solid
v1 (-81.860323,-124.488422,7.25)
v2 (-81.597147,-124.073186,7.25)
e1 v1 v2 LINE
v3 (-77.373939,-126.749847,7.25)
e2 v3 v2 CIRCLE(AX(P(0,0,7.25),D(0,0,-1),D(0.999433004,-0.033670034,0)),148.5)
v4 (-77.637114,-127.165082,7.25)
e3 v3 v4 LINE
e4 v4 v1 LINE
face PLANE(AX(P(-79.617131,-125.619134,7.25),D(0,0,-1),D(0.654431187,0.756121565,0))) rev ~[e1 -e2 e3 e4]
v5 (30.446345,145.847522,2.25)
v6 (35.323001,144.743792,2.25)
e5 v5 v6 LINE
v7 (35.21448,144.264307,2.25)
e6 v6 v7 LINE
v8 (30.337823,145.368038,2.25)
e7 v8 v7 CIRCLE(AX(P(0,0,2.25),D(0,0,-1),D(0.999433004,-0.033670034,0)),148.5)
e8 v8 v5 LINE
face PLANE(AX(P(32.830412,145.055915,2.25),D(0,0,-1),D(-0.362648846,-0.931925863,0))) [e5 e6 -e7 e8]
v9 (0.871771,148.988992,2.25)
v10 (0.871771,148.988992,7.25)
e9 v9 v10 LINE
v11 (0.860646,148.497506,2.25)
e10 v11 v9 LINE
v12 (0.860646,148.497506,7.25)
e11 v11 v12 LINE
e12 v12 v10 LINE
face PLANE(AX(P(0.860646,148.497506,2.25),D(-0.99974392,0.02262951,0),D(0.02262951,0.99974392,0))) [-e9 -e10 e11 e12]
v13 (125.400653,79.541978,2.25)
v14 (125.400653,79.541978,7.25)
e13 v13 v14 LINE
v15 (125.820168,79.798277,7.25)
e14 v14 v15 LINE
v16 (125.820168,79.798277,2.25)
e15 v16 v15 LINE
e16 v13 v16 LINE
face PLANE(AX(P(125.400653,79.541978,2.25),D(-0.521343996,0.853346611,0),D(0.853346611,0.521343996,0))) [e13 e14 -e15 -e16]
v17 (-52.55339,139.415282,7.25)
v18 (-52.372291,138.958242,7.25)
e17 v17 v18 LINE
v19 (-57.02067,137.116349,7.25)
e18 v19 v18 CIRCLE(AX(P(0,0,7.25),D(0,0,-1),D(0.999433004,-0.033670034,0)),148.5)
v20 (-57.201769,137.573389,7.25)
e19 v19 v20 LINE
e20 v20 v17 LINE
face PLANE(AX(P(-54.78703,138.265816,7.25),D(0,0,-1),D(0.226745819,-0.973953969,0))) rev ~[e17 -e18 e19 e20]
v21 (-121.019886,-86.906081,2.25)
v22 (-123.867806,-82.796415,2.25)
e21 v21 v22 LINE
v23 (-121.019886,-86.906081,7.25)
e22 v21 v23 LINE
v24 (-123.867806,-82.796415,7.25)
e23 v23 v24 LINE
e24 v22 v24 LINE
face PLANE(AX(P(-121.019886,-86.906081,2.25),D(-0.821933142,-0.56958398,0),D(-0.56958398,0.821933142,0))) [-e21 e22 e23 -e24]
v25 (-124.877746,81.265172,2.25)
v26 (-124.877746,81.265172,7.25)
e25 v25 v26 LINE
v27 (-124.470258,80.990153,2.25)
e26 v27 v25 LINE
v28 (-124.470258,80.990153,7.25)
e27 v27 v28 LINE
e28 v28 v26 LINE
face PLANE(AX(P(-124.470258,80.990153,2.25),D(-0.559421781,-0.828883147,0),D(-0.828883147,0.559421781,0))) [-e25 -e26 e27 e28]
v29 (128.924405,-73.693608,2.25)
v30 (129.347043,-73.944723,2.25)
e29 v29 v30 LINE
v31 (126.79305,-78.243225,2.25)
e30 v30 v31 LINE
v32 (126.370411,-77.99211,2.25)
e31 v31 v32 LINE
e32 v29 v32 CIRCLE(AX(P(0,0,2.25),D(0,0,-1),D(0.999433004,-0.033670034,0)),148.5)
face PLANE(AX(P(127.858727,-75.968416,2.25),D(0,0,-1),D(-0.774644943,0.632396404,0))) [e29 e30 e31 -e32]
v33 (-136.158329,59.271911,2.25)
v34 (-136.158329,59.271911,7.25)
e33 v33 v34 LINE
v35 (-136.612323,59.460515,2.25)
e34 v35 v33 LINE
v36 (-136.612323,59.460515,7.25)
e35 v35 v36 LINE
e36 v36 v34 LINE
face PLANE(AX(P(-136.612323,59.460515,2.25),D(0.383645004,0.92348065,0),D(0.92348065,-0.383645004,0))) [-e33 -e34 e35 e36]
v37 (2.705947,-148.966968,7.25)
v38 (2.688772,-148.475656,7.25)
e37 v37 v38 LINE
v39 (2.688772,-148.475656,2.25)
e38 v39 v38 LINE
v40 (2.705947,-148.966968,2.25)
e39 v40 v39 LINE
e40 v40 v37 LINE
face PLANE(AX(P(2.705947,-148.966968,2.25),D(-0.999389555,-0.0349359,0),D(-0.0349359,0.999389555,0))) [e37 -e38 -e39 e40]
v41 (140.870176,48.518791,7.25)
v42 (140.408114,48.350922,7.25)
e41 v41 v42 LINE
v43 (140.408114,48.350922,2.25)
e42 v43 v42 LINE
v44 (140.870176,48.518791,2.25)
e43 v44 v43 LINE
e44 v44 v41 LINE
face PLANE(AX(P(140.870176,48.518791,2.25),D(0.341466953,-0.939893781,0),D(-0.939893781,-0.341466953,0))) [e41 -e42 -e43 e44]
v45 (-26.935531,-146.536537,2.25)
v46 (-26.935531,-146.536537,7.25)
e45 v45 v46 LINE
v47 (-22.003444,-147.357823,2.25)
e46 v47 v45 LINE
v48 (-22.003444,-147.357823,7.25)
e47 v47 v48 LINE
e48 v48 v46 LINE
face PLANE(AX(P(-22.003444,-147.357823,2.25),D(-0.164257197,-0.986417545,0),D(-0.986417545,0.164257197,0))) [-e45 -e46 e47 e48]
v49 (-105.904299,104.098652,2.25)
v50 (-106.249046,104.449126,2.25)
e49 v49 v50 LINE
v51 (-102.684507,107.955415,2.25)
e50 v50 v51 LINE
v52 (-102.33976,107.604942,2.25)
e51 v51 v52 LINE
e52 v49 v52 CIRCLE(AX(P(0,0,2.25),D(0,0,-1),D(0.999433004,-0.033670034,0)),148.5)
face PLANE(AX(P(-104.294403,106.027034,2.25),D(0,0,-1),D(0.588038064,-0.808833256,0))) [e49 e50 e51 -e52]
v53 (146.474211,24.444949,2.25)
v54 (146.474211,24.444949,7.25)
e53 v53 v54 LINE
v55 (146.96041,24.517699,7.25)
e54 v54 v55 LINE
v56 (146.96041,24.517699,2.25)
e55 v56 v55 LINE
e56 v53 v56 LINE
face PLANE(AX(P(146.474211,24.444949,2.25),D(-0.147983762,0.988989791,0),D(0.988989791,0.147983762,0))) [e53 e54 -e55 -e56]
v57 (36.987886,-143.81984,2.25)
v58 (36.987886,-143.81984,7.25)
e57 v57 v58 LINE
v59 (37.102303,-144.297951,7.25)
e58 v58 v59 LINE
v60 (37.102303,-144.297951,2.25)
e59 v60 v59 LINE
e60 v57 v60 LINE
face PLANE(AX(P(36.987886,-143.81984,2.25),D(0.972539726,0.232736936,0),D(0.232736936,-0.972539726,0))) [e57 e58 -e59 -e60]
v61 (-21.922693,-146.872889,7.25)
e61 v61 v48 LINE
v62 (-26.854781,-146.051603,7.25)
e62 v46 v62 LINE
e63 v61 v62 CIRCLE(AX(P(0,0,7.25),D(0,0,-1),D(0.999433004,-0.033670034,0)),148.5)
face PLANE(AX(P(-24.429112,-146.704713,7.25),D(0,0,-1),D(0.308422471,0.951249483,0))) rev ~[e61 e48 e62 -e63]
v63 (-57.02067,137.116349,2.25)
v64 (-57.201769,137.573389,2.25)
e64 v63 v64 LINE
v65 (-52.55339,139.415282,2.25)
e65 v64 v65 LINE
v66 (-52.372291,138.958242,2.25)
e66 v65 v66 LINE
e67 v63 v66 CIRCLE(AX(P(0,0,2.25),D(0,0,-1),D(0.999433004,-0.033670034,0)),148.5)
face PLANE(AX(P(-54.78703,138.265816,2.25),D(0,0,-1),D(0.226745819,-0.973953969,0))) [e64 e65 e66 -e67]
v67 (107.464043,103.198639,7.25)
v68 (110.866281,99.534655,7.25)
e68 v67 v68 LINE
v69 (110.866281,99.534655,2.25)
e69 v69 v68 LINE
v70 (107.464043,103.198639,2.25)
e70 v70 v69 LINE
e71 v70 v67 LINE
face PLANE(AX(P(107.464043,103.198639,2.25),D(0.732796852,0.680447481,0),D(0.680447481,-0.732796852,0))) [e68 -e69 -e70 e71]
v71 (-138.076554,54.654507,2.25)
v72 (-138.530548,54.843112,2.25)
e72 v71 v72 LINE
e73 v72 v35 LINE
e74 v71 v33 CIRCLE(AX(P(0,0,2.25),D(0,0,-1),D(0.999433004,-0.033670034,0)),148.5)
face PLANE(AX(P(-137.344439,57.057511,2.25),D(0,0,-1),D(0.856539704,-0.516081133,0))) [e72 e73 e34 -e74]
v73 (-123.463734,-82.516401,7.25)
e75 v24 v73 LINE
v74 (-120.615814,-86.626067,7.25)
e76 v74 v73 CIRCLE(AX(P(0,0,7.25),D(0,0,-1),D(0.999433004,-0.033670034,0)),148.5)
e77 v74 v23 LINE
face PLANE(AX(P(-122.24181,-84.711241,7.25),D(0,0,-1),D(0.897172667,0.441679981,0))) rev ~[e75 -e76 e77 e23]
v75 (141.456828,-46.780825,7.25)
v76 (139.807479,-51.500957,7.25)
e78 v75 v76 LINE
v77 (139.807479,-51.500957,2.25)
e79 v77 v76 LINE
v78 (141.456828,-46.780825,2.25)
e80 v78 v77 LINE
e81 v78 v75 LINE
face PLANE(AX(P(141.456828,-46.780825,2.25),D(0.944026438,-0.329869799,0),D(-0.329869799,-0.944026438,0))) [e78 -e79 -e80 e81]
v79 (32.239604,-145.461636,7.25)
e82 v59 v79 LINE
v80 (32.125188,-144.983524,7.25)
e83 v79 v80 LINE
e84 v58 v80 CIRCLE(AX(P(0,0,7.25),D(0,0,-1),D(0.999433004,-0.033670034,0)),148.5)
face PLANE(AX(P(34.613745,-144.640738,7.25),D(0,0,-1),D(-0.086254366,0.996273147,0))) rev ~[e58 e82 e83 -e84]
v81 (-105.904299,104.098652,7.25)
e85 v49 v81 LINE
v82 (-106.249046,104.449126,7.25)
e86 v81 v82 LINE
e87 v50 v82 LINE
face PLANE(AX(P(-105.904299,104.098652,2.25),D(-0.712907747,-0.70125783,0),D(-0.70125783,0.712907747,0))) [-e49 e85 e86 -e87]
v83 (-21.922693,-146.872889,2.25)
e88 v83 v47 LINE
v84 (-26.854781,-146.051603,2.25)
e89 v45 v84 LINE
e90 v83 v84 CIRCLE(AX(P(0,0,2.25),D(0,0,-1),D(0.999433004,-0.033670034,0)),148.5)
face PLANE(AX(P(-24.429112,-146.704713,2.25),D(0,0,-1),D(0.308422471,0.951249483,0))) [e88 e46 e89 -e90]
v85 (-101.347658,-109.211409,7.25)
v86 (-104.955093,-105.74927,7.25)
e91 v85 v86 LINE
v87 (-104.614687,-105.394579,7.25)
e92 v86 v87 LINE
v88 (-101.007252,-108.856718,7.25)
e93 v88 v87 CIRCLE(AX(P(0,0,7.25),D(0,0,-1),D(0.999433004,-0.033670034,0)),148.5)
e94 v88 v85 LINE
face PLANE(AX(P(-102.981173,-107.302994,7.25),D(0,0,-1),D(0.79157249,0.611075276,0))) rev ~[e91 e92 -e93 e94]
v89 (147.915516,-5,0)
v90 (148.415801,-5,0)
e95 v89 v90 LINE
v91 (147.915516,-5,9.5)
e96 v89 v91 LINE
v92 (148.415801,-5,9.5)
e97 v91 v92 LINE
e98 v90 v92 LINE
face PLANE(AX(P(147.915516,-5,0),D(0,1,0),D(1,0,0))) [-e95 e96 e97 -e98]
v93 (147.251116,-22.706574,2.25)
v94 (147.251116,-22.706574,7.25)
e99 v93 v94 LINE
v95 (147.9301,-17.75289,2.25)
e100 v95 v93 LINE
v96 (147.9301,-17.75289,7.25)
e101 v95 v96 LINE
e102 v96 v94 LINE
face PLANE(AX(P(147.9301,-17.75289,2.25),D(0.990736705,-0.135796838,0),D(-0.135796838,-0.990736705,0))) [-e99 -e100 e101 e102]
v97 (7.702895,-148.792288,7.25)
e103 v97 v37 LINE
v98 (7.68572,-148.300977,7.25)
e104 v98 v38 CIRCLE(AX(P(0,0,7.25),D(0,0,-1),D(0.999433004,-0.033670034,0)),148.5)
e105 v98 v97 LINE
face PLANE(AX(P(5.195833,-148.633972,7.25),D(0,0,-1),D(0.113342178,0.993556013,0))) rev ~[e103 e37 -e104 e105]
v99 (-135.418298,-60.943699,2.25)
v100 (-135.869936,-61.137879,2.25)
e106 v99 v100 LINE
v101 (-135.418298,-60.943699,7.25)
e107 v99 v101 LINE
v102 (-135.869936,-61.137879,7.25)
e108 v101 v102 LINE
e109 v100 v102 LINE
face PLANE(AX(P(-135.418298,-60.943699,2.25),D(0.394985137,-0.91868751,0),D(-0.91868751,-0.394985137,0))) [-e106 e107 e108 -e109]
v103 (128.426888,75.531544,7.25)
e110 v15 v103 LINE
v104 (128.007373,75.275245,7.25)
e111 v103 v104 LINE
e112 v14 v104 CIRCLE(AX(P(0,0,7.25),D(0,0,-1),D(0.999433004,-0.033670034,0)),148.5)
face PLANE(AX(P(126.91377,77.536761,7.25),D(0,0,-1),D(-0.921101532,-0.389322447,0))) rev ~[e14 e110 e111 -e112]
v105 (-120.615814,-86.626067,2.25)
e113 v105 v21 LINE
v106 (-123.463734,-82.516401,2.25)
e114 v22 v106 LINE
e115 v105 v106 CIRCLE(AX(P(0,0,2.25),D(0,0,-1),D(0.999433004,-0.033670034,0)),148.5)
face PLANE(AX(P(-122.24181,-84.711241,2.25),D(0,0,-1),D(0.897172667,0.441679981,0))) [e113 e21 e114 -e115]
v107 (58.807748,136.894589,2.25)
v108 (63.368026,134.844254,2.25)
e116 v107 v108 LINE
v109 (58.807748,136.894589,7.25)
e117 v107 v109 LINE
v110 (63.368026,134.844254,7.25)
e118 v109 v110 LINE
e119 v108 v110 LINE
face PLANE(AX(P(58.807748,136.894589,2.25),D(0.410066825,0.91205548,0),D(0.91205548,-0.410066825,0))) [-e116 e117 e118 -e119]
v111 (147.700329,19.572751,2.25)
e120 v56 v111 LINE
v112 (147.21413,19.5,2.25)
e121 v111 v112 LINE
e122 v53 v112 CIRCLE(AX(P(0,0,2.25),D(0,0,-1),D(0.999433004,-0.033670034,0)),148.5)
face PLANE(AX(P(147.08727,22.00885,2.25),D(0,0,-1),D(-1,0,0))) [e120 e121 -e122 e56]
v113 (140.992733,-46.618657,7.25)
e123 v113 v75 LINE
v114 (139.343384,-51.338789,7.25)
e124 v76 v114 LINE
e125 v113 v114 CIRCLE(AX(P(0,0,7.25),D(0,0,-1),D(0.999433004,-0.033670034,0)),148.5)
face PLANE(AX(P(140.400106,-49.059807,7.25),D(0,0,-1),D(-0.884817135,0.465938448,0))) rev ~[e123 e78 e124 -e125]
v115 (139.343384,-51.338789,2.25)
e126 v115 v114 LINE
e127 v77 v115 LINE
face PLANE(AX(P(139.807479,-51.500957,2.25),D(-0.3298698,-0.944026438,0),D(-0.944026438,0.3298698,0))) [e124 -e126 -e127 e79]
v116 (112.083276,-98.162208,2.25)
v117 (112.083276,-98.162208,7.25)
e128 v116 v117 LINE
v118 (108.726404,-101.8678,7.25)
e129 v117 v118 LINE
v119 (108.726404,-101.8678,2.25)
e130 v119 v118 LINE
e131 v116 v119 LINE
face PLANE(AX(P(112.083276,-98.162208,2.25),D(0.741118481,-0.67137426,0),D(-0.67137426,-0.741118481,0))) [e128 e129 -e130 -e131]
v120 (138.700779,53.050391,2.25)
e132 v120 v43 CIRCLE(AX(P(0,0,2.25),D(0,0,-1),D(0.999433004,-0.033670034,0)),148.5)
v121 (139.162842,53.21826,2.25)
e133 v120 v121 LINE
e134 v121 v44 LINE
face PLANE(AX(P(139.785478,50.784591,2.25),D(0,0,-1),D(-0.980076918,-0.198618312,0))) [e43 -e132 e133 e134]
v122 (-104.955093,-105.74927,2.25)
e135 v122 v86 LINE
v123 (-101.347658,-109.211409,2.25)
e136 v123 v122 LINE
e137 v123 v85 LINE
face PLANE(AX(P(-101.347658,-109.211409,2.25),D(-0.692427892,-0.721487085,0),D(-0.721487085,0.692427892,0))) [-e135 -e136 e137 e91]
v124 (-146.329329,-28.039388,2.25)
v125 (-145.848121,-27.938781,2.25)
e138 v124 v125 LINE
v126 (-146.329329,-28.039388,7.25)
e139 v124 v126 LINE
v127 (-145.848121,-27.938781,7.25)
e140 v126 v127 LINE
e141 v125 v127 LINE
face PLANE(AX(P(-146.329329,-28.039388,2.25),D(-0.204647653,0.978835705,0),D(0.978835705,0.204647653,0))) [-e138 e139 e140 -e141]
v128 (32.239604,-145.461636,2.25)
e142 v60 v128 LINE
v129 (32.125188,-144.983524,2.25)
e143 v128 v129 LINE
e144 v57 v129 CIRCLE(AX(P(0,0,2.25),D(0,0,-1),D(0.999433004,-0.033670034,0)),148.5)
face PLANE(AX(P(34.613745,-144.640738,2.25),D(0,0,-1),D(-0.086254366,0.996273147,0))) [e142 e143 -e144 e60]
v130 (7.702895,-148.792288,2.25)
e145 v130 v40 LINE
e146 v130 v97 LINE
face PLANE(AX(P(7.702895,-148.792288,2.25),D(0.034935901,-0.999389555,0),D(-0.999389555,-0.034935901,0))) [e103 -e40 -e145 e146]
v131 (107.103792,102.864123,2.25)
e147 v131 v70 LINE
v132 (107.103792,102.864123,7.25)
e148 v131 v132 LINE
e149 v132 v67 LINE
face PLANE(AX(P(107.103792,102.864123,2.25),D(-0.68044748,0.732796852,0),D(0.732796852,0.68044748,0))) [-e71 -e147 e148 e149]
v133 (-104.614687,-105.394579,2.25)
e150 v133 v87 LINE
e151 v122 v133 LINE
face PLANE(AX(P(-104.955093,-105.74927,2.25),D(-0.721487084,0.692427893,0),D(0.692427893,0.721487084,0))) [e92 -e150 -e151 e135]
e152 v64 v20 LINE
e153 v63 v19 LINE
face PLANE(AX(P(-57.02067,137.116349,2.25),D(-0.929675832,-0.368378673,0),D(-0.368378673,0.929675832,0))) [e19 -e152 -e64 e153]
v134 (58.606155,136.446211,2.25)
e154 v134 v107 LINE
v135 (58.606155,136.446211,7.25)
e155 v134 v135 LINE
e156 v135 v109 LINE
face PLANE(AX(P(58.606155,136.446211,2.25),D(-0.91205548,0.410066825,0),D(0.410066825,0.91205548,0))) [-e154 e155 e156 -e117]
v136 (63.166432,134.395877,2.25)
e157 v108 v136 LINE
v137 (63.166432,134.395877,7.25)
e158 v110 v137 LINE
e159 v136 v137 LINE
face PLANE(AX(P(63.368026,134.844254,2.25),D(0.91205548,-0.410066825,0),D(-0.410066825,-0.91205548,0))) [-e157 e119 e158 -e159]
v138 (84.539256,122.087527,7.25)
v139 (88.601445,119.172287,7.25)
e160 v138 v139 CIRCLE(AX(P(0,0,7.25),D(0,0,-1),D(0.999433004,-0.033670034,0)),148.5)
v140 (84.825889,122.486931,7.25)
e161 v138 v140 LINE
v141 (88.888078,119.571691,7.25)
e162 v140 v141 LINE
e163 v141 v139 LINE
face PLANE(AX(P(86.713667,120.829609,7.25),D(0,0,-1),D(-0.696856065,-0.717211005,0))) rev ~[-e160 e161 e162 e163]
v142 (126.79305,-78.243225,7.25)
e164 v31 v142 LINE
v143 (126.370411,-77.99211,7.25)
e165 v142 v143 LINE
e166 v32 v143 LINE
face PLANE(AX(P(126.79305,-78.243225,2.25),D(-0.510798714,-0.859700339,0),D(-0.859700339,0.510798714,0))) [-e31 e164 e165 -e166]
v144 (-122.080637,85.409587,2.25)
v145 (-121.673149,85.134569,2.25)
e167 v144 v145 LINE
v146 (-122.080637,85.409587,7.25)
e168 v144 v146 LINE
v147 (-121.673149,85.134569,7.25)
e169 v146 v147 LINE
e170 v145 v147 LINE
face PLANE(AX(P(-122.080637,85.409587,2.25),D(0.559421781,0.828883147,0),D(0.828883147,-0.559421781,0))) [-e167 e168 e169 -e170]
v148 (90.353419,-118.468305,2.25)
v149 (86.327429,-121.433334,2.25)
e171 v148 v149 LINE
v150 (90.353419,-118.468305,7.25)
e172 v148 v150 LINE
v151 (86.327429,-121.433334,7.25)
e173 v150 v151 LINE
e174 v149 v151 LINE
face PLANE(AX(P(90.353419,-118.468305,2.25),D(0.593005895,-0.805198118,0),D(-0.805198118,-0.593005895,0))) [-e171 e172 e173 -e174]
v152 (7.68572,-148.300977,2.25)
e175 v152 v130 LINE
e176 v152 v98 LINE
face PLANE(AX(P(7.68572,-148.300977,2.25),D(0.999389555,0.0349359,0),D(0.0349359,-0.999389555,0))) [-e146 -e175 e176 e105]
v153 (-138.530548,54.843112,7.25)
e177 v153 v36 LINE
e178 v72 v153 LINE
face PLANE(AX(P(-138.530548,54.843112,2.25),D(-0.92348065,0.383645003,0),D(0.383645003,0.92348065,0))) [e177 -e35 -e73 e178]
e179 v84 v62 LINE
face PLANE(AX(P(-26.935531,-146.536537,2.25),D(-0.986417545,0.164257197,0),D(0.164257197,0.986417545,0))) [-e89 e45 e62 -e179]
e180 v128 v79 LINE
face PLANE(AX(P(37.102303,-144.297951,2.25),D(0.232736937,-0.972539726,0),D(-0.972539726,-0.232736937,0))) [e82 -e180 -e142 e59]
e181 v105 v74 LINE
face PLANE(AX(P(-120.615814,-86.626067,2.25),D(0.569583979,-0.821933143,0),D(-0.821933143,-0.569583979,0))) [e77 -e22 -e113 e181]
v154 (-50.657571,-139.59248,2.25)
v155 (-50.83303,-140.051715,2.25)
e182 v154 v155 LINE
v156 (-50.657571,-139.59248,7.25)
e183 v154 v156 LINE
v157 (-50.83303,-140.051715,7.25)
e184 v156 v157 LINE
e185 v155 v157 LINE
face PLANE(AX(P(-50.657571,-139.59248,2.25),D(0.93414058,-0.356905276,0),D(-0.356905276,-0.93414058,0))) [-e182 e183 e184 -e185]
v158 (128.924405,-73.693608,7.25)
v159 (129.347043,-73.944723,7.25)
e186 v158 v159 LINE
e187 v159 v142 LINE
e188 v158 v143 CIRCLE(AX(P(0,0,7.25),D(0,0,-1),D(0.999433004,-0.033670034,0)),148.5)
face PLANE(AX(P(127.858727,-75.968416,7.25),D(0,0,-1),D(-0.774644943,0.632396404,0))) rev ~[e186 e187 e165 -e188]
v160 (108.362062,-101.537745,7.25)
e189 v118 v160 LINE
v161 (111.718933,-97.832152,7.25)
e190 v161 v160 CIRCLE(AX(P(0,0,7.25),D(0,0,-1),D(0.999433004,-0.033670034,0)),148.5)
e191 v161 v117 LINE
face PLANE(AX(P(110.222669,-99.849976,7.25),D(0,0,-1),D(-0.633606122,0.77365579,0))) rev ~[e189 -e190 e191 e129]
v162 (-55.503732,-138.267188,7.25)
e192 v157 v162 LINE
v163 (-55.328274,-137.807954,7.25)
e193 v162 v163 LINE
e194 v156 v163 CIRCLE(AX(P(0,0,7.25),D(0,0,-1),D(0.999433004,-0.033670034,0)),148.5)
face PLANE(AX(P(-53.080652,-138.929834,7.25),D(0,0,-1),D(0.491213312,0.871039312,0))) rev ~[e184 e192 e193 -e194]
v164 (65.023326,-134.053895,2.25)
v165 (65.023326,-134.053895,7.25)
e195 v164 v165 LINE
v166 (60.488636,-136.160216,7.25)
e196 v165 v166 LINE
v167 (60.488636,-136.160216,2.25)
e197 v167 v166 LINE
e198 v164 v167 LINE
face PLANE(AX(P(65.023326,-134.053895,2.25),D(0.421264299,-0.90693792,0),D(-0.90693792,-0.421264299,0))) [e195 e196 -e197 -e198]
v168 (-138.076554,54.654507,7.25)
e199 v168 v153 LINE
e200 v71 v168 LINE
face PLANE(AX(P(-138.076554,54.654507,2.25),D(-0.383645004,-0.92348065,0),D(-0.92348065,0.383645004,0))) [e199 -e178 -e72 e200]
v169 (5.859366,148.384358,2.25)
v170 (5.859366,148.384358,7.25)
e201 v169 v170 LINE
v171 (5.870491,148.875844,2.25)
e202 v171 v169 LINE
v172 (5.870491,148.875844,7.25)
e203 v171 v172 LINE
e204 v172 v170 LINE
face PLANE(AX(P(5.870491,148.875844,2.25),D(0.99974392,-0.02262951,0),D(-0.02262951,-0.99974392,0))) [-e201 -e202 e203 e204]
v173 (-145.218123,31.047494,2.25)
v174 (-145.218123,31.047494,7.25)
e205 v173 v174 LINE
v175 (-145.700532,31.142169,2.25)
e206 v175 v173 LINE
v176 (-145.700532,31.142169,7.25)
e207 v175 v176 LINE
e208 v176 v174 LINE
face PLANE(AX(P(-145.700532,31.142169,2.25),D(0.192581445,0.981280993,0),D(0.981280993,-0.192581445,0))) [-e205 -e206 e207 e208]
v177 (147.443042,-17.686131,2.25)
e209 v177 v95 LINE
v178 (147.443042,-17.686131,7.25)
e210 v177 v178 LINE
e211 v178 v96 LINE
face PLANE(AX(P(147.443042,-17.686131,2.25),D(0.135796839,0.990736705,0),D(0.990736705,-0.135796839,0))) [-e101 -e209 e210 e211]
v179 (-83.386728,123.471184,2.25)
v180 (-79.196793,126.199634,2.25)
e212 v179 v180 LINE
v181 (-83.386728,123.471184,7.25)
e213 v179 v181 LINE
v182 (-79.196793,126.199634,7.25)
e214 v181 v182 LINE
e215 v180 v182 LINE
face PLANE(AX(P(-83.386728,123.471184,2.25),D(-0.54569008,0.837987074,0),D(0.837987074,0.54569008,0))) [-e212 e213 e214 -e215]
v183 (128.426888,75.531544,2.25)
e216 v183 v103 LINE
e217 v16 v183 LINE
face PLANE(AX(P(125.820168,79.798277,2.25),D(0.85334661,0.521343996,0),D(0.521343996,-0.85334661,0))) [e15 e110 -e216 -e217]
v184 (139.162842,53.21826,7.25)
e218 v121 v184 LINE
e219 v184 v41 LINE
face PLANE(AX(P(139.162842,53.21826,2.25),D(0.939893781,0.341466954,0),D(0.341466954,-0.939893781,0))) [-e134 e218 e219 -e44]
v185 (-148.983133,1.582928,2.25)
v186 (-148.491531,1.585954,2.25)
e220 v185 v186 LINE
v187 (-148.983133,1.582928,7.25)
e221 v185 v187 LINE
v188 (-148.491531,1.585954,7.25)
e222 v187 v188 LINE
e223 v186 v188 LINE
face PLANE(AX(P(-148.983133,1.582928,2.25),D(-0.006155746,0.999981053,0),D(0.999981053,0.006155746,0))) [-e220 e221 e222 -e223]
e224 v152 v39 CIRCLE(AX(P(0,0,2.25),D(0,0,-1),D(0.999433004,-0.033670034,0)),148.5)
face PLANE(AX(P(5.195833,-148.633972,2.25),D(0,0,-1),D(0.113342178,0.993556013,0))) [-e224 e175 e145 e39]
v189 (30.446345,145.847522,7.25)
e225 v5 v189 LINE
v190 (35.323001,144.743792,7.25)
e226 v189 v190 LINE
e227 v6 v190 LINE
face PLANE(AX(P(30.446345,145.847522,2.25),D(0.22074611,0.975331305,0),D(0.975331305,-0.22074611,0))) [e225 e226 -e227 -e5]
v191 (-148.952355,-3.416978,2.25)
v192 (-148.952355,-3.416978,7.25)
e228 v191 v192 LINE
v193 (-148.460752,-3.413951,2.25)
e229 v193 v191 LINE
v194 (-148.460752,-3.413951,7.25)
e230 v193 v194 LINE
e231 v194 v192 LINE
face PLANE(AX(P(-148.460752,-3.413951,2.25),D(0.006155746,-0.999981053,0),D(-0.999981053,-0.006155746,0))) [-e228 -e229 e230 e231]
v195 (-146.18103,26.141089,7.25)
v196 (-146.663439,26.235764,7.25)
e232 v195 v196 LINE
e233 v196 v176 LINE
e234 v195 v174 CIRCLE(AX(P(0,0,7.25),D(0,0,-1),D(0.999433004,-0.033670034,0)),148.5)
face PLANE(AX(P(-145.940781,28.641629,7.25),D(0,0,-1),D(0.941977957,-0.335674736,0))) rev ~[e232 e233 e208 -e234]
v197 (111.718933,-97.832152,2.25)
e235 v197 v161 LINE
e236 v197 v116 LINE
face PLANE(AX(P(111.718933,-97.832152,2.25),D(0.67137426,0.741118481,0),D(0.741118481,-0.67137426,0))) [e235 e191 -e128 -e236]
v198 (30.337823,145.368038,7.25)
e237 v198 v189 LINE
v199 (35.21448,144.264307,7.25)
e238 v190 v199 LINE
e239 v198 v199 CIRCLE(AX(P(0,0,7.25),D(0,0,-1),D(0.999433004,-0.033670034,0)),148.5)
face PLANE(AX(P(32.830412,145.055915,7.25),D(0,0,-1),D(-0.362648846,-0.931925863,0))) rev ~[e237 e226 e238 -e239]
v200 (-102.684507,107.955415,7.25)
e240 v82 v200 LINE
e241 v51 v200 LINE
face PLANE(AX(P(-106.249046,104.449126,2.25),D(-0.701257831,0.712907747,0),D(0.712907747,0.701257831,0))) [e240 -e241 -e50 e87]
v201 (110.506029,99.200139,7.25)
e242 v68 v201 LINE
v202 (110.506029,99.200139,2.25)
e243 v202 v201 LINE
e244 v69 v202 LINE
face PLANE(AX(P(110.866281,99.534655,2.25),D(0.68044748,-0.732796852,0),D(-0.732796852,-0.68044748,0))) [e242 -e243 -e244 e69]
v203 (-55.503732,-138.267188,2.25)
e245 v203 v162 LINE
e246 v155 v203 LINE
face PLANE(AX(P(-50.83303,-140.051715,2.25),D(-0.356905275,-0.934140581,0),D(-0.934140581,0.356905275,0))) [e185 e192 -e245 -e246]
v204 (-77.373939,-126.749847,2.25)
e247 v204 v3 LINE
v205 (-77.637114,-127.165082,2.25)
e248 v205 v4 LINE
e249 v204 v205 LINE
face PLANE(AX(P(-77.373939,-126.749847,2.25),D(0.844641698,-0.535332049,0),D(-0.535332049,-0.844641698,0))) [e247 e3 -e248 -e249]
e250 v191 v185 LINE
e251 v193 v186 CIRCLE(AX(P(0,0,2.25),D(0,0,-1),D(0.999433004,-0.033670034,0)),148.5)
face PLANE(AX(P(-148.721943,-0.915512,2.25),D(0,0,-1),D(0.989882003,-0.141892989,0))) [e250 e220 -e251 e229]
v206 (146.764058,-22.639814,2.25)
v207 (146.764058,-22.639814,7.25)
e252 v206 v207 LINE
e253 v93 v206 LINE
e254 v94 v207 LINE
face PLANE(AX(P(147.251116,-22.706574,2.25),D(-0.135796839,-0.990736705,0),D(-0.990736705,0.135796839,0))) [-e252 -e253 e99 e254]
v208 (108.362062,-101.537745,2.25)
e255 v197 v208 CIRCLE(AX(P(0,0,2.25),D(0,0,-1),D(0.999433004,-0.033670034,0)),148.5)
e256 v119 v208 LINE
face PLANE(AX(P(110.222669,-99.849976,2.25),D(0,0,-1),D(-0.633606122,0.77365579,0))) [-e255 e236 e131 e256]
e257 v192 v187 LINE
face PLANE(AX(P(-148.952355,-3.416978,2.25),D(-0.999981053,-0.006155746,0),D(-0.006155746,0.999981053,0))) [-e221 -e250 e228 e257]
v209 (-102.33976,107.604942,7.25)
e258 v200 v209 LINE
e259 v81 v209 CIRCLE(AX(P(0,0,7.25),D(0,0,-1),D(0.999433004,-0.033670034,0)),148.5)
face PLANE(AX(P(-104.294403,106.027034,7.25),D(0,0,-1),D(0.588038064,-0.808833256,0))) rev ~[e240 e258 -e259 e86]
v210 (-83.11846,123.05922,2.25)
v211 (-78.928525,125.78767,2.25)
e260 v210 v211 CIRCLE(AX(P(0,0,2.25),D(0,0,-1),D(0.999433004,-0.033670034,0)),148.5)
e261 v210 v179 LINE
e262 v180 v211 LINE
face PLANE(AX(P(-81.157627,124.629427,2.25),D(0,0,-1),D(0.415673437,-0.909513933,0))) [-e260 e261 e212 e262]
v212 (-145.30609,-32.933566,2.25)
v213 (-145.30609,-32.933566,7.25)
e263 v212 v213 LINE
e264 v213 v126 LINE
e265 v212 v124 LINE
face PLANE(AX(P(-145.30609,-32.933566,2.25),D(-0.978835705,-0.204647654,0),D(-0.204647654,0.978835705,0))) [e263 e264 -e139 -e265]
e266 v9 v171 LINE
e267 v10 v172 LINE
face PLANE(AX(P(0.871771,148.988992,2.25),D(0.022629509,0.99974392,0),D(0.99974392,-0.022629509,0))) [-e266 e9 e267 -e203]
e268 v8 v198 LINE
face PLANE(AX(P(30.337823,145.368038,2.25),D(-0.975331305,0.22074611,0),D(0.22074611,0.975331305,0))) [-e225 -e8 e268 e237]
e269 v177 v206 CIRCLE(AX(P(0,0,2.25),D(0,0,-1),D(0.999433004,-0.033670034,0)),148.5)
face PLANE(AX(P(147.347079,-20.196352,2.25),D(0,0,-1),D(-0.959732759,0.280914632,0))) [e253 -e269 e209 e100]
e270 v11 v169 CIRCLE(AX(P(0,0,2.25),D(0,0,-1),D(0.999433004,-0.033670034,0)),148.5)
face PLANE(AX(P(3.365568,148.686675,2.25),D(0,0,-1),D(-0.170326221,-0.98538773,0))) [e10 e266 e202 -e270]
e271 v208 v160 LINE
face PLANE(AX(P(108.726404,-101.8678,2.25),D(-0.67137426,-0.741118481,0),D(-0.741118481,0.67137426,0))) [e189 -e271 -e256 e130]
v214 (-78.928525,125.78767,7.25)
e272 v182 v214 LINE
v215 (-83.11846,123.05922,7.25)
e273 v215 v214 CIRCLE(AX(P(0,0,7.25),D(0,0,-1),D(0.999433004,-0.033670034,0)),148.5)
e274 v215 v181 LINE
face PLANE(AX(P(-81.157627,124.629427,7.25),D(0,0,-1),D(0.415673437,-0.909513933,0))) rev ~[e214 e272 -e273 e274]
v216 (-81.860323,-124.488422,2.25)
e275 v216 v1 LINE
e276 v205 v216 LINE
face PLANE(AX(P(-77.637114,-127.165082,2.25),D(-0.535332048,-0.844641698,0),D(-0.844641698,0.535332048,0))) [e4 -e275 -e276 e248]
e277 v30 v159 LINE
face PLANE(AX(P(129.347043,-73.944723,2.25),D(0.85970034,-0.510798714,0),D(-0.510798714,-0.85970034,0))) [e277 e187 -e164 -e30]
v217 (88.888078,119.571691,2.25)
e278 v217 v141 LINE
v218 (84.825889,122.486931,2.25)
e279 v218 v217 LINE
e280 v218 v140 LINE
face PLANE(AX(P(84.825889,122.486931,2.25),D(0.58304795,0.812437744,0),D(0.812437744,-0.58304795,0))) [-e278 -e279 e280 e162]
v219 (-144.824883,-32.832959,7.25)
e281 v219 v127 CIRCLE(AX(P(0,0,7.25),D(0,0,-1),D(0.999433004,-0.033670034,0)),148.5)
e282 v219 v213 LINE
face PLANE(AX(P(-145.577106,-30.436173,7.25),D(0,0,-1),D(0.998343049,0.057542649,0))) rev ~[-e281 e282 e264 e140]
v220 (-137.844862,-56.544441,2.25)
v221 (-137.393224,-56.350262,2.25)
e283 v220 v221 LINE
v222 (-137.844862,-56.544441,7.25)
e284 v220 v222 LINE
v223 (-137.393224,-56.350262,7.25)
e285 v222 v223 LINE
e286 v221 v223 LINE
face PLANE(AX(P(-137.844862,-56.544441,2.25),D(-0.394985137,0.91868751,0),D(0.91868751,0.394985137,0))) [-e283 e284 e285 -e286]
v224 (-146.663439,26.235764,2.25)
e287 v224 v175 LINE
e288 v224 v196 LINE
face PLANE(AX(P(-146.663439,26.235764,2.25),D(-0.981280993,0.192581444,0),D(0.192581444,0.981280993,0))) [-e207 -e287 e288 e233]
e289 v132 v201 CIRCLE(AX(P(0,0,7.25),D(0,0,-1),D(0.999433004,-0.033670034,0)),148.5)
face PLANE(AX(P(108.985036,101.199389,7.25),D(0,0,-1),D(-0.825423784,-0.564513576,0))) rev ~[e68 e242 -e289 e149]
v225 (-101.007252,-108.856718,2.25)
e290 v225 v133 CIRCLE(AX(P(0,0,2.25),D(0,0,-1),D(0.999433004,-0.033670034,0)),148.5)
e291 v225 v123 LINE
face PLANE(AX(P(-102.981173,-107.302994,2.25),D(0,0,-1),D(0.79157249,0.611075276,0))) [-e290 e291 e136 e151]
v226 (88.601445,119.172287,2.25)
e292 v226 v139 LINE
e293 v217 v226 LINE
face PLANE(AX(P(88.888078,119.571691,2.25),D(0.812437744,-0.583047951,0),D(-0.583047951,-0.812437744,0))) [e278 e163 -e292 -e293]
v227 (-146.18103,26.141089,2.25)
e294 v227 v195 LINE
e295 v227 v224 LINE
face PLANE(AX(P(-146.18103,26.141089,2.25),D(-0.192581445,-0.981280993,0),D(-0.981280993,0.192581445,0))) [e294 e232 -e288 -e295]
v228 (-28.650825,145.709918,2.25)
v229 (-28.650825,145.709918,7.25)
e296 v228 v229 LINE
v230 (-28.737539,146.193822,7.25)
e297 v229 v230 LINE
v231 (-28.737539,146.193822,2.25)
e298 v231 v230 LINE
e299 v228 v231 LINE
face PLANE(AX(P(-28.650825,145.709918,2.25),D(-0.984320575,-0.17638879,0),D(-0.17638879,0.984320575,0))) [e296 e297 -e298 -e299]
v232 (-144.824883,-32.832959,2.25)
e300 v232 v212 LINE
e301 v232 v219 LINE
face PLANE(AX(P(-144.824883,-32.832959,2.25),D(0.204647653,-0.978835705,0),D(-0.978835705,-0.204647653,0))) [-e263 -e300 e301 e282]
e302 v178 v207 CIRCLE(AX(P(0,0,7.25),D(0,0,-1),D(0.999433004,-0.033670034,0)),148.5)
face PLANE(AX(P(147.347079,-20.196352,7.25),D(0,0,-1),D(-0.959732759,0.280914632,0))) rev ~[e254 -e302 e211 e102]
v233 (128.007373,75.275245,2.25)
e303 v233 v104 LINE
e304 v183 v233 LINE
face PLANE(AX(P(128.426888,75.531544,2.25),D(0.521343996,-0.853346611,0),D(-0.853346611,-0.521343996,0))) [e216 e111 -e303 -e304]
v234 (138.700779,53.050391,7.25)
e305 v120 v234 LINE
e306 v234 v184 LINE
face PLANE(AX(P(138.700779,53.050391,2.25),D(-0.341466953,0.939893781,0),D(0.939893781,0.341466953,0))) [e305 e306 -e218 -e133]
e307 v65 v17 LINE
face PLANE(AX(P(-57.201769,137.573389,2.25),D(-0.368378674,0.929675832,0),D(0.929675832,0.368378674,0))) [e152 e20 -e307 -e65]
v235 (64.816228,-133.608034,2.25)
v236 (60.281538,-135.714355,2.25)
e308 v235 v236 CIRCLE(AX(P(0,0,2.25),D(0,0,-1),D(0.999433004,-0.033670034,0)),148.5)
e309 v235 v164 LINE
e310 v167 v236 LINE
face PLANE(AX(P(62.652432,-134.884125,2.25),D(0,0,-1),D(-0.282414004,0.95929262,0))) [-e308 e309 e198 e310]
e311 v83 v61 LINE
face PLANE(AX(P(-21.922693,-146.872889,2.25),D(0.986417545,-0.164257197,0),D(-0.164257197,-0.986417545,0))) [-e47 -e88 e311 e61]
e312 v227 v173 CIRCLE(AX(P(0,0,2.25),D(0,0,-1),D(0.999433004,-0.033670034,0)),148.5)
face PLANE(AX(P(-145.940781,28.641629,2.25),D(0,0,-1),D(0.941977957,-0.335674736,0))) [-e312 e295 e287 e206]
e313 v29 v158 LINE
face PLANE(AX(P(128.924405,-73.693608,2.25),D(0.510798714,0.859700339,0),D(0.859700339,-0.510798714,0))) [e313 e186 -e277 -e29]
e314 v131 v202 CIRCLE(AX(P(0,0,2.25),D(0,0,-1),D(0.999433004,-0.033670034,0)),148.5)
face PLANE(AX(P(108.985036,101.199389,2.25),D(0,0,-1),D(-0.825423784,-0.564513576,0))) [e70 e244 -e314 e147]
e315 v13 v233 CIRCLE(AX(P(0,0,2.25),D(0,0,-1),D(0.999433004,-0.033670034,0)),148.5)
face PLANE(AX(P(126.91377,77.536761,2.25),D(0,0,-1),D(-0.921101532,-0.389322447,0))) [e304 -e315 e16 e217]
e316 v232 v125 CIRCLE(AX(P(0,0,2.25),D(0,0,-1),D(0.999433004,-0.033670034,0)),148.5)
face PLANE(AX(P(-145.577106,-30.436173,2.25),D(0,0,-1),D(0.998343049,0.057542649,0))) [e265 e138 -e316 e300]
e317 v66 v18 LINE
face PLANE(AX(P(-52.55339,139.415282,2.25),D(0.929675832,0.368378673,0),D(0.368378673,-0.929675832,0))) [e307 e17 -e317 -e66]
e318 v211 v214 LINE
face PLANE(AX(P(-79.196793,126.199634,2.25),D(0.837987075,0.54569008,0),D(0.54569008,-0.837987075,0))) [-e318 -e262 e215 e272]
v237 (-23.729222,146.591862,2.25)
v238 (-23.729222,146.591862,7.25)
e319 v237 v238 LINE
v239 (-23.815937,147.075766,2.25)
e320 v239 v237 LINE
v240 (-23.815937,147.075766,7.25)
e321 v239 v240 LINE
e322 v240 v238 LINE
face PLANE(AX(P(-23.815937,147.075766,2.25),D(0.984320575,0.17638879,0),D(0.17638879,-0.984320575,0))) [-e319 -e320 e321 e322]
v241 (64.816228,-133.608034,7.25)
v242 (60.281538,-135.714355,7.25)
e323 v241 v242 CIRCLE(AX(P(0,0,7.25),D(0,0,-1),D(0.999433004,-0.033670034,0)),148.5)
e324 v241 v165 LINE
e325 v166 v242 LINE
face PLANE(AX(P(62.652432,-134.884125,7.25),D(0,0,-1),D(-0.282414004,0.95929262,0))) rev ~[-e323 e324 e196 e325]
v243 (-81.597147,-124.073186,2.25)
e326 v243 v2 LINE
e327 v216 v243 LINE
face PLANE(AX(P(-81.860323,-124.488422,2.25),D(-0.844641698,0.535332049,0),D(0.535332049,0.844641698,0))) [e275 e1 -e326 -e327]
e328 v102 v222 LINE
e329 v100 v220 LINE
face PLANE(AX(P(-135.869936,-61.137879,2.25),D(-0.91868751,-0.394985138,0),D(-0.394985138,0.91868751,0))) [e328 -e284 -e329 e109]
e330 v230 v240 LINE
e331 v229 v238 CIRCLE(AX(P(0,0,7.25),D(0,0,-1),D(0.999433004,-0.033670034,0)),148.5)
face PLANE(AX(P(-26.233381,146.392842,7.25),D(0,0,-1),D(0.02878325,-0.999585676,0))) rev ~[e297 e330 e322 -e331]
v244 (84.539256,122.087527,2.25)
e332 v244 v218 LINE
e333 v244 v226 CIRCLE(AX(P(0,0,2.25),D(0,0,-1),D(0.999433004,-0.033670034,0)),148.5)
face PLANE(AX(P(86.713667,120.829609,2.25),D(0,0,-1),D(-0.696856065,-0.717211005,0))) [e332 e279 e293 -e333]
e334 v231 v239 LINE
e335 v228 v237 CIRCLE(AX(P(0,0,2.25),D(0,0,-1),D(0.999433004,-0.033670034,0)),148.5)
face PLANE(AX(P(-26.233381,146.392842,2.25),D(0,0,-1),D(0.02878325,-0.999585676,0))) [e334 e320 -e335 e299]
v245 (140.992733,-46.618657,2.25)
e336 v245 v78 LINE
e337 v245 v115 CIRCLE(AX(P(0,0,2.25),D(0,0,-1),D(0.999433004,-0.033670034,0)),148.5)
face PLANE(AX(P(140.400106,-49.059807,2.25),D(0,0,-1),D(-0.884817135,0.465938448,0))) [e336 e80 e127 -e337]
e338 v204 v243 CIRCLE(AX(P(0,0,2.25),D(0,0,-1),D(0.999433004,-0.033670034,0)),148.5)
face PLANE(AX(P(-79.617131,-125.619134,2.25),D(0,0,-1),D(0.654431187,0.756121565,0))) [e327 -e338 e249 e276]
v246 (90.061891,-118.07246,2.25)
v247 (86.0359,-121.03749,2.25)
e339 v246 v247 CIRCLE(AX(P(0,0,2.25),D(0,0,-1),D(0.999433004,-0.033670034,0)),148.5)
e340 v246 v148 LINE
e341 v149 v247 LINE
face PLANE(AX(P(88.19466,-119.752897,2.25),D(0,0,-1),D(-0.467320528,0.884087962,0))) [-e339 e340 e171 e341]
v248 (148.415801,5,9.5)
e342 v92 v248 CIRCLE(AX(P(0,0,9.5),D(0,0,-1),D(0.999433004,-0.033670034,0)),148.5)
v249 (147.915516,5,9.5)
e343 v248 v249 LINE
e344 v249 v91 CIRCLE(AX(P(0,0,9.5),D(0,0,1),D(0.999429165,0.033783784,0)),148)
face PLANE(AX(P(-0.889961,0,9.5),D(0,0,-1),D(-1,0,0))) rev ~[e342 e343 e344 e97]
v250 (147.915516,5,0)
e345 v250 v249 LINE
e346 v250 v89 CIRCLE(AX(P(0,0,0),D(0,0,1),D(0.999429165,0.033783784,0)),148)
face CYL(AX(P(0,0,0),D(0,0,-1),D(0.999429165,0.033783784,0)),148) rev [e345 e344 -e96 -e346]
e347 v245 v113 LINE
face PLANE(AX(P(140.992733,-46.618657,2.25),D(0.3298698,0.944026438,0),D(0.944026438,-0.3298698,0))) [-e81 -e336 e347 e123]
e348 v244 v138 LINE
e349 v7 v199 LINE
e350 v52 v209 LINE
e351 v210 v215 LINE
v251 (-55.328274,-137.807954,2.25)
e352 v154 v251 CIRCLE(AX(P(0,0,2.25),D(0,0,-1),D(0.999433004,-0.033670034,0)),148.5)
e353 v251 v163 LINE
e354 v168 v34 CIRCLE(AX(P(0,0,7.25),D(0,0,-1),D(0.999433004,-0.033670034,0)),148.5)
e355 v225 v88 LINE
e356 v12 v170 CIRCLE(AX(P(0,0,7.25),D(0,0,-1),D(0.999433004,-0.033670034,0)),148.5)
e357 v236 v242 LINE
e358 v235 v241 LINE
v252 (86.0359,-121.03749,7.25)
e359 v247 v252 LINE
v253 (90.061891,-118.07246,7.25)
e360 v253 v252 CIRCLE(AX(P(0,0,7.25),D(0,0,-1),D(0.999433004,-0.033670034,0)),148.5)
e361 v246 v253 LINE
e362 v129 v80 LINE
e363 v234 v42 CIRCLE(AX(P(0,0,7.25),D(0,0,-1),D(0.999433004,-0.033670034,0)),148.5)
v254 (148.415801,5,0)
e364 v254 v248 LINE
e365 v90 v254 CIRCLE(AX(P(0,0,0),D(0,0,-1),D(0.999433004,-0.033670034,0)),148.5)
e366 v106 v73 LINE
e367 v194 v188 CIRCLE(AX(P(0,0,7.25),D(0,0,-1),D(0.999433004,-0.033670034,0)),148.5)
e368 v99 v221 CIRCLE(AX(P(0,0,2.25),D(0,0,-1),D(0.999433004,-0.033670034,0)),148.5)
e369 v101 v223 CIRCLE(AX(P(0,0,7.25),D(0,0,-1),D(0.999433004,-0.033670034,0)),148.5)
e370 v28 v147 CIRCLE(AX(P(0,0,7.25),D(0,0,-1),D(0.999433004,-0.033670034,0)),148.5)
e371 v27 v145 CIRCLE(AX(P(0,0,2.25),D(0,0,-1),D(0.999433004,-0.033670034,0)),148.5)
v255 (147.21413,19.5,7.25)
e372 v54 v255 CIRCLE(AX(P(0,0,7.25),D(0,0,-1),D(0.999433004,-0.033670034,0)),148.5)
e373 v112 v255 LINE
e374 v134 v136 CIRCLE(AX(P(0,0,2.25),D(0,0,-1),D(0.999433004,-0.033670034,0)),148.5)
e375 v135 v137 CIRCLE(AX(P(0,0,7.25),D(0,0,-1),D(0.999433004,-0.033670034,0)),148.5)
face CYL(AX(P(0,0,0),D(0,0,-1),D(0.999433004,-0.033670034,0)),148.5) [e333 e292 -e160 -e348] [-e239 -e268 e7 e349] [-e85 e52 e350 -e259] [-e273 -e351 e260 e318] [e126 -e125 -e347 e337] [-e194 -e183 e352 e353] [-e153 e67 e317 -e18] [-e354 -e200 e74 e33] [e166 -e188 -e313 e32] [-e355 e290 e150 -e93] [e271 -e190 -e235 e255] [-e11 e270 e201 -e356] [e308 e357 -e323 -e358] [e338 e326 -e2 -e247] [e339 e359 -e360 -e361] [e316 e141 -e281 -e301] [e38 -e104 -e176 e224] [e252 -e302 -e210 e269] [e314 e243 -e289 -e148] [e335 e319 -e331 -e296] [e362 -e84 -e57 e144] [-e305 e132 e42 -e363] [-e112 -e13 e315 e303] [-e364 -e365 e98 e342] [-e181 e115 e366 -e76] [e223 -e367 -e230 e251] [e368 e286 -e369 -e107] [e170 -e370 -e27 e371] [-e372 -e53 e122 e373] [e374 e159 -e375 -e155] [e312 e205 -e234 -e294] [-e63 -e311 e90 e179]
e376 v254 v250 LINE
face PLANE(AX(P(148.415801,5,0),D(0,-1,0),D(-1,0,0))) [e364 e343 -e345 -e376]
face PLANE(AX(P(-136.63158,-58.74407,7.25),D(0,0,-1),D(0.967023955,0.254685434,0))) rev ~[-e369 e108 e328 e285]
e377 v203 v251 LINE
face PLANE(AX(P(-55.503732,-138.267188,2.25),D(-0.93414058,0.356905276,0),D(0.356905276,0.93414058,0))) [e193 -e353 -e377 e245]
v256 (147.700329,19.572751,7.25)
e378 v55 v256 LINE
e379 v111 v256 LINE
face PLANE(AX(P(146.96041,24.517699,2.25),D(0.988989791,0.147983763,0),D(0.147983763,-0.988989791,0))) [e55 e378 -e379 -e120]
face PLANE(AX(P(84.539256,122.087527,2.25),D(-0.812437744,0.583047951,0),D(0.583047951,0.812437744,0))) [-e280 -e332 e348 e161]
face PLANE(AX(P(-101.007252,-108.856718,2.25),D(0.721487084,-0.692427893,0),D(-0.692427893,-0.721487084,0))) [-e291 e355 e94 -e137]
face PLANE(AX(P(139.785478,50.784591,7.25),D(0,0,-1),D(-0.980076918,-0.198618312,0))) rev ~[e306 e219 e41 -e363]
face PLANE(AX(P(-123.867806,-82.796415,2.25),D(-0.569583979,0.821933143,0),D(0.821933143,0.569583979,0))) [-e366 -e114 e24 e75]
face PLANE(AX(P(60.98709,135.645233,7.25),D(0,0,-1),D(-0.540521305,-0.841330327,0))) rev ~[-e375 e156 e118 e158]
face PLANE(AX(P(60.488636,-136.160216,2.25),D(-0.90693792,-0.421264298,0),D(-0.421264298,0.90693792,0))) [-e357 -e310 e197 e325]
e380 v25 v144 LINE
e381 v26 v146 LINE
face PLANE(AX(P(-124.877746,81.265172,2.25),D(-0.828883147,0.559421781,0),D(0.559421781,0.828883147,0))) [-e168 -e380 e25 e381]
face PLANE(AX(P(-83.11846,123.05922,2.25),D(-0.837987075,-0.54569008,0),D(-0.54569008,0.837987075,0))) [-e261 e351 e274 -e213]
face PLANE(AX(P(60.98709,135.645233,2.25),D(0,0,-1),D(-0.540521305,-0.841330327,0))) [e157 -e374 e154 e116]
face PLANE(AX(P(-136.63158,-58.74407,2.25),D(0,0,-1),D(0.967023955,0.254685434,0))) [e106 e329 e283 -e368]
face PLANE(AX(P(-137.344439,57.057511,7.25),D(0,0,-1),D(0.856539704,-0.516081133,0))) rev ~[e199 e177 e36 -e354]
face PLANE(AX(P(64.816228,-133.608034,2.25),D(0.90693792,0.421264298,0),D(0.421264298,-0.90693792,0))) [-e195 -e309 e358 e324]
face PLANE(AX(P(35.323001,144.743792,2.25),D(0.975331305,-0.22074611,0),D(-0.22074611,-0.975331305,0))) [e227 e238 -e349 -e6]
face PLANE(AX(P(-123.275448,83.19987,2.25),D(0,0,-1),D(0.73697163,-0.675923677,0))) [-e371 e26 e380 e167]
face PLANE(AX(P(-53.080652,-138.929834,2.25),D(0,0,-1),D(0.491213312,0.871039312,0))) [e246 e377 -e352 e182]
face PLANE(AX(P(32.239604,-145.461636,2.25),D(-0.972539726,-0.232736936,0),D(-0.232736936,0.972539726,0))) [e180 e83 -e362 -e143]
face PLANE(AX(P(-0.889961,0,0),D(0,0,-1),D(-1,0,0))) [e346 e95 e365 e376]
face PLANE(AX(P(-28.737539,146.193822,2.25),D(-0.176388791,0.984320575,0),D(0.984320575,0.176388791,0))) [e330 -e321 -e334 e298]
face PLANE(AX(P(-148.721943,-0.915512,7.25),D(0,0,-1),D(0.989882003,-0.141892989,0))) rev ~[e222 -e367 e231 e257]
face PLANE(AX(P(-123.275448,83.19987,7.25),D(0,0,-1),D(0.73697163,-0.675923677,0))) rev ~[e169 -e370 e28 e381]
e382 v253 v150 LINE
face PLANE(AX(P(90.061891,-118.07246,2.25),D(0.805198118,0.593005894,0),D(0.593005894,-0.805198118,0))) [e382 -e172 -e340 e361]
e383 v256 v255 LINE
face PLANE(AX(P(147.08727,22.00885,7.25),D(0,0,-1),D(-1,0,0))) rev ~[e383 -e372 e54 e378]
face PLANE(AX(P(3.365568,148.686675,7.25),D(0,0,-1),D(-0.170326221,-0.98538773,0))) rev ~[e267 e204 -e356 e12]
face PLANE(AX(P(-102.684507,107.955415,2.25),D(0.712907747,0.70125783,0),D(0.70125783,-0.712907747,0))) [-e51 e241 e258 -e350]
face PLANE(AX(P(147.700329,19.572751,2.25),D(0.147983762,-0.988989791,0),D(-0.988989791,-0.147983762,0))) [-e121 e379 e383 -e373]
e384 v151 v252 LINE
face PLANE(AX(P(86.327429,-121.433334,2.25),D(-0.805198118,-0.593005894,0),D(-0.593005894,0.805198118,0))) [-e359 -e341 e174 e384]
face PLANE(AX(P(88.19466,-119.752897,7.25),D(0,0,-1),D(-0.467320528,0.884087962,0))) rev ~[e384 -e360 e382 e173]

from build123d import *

# Parameters (mm, degrees)
BOSS_EXTRU_1_DEPTH           = 9.5
BOSS_EXTRU_2_DEPTH           = 5
R_P_TITION_CIRCULAIRE1_COUNT = 31
R_P_TITION_CIRCULAIRE1_ANGLE = 343.6851996


with BuildPart() as part:
    # Esquisse1 → Boss.-Extru.1 (new body)
    with BuildSketch(Plane.XY):
        with BuildLine():
            Line((148.415801046, 5), (147.915516427, 5))
            ThreePointArc((147.915516427, 5), (-148, 0), (147.915516427, -5))
            Line((147.915516427, -5), (148.415801046, -5))
            ThreePointArc((148.415801046, -5), (-148.5, 0), (148.415801046, 5))
        make_face()
    extrude(amount=BOSS_EXTRU_1_DEPTH)

    # Esquisse2 → Boss.-Extru.2 (add)
    with BuildSketch(Plane.XY.offset(2.25)):
        Polygon((146.960409873, 24.517699499), (147.700328689, 19.572750546), (147.214129757, 19.5), (146.474210941, 24.444948953), align=None)
    boss_extru_2 = extrude(amount=BOSS_EXTRU_2_DEPTH)

    # Répétition circulaire1: Boss.-Extru.2 ×31 about axis
    r_p_tition_circulaire1_axis = Axis((0, 0, 0), (0, 0, 1))
    for i in range(1, R_P_TITION_CIRCULAIRE1_COUNT):
        add(boss_extru_2.rotate(r_p_tition_circulaire1_axis, i * R_P_TITION_CIRCULAIRE1_ANGLE / (R_P_TITION_CIRCULAIRE1_COUNT - 1)))


solid = part.part
